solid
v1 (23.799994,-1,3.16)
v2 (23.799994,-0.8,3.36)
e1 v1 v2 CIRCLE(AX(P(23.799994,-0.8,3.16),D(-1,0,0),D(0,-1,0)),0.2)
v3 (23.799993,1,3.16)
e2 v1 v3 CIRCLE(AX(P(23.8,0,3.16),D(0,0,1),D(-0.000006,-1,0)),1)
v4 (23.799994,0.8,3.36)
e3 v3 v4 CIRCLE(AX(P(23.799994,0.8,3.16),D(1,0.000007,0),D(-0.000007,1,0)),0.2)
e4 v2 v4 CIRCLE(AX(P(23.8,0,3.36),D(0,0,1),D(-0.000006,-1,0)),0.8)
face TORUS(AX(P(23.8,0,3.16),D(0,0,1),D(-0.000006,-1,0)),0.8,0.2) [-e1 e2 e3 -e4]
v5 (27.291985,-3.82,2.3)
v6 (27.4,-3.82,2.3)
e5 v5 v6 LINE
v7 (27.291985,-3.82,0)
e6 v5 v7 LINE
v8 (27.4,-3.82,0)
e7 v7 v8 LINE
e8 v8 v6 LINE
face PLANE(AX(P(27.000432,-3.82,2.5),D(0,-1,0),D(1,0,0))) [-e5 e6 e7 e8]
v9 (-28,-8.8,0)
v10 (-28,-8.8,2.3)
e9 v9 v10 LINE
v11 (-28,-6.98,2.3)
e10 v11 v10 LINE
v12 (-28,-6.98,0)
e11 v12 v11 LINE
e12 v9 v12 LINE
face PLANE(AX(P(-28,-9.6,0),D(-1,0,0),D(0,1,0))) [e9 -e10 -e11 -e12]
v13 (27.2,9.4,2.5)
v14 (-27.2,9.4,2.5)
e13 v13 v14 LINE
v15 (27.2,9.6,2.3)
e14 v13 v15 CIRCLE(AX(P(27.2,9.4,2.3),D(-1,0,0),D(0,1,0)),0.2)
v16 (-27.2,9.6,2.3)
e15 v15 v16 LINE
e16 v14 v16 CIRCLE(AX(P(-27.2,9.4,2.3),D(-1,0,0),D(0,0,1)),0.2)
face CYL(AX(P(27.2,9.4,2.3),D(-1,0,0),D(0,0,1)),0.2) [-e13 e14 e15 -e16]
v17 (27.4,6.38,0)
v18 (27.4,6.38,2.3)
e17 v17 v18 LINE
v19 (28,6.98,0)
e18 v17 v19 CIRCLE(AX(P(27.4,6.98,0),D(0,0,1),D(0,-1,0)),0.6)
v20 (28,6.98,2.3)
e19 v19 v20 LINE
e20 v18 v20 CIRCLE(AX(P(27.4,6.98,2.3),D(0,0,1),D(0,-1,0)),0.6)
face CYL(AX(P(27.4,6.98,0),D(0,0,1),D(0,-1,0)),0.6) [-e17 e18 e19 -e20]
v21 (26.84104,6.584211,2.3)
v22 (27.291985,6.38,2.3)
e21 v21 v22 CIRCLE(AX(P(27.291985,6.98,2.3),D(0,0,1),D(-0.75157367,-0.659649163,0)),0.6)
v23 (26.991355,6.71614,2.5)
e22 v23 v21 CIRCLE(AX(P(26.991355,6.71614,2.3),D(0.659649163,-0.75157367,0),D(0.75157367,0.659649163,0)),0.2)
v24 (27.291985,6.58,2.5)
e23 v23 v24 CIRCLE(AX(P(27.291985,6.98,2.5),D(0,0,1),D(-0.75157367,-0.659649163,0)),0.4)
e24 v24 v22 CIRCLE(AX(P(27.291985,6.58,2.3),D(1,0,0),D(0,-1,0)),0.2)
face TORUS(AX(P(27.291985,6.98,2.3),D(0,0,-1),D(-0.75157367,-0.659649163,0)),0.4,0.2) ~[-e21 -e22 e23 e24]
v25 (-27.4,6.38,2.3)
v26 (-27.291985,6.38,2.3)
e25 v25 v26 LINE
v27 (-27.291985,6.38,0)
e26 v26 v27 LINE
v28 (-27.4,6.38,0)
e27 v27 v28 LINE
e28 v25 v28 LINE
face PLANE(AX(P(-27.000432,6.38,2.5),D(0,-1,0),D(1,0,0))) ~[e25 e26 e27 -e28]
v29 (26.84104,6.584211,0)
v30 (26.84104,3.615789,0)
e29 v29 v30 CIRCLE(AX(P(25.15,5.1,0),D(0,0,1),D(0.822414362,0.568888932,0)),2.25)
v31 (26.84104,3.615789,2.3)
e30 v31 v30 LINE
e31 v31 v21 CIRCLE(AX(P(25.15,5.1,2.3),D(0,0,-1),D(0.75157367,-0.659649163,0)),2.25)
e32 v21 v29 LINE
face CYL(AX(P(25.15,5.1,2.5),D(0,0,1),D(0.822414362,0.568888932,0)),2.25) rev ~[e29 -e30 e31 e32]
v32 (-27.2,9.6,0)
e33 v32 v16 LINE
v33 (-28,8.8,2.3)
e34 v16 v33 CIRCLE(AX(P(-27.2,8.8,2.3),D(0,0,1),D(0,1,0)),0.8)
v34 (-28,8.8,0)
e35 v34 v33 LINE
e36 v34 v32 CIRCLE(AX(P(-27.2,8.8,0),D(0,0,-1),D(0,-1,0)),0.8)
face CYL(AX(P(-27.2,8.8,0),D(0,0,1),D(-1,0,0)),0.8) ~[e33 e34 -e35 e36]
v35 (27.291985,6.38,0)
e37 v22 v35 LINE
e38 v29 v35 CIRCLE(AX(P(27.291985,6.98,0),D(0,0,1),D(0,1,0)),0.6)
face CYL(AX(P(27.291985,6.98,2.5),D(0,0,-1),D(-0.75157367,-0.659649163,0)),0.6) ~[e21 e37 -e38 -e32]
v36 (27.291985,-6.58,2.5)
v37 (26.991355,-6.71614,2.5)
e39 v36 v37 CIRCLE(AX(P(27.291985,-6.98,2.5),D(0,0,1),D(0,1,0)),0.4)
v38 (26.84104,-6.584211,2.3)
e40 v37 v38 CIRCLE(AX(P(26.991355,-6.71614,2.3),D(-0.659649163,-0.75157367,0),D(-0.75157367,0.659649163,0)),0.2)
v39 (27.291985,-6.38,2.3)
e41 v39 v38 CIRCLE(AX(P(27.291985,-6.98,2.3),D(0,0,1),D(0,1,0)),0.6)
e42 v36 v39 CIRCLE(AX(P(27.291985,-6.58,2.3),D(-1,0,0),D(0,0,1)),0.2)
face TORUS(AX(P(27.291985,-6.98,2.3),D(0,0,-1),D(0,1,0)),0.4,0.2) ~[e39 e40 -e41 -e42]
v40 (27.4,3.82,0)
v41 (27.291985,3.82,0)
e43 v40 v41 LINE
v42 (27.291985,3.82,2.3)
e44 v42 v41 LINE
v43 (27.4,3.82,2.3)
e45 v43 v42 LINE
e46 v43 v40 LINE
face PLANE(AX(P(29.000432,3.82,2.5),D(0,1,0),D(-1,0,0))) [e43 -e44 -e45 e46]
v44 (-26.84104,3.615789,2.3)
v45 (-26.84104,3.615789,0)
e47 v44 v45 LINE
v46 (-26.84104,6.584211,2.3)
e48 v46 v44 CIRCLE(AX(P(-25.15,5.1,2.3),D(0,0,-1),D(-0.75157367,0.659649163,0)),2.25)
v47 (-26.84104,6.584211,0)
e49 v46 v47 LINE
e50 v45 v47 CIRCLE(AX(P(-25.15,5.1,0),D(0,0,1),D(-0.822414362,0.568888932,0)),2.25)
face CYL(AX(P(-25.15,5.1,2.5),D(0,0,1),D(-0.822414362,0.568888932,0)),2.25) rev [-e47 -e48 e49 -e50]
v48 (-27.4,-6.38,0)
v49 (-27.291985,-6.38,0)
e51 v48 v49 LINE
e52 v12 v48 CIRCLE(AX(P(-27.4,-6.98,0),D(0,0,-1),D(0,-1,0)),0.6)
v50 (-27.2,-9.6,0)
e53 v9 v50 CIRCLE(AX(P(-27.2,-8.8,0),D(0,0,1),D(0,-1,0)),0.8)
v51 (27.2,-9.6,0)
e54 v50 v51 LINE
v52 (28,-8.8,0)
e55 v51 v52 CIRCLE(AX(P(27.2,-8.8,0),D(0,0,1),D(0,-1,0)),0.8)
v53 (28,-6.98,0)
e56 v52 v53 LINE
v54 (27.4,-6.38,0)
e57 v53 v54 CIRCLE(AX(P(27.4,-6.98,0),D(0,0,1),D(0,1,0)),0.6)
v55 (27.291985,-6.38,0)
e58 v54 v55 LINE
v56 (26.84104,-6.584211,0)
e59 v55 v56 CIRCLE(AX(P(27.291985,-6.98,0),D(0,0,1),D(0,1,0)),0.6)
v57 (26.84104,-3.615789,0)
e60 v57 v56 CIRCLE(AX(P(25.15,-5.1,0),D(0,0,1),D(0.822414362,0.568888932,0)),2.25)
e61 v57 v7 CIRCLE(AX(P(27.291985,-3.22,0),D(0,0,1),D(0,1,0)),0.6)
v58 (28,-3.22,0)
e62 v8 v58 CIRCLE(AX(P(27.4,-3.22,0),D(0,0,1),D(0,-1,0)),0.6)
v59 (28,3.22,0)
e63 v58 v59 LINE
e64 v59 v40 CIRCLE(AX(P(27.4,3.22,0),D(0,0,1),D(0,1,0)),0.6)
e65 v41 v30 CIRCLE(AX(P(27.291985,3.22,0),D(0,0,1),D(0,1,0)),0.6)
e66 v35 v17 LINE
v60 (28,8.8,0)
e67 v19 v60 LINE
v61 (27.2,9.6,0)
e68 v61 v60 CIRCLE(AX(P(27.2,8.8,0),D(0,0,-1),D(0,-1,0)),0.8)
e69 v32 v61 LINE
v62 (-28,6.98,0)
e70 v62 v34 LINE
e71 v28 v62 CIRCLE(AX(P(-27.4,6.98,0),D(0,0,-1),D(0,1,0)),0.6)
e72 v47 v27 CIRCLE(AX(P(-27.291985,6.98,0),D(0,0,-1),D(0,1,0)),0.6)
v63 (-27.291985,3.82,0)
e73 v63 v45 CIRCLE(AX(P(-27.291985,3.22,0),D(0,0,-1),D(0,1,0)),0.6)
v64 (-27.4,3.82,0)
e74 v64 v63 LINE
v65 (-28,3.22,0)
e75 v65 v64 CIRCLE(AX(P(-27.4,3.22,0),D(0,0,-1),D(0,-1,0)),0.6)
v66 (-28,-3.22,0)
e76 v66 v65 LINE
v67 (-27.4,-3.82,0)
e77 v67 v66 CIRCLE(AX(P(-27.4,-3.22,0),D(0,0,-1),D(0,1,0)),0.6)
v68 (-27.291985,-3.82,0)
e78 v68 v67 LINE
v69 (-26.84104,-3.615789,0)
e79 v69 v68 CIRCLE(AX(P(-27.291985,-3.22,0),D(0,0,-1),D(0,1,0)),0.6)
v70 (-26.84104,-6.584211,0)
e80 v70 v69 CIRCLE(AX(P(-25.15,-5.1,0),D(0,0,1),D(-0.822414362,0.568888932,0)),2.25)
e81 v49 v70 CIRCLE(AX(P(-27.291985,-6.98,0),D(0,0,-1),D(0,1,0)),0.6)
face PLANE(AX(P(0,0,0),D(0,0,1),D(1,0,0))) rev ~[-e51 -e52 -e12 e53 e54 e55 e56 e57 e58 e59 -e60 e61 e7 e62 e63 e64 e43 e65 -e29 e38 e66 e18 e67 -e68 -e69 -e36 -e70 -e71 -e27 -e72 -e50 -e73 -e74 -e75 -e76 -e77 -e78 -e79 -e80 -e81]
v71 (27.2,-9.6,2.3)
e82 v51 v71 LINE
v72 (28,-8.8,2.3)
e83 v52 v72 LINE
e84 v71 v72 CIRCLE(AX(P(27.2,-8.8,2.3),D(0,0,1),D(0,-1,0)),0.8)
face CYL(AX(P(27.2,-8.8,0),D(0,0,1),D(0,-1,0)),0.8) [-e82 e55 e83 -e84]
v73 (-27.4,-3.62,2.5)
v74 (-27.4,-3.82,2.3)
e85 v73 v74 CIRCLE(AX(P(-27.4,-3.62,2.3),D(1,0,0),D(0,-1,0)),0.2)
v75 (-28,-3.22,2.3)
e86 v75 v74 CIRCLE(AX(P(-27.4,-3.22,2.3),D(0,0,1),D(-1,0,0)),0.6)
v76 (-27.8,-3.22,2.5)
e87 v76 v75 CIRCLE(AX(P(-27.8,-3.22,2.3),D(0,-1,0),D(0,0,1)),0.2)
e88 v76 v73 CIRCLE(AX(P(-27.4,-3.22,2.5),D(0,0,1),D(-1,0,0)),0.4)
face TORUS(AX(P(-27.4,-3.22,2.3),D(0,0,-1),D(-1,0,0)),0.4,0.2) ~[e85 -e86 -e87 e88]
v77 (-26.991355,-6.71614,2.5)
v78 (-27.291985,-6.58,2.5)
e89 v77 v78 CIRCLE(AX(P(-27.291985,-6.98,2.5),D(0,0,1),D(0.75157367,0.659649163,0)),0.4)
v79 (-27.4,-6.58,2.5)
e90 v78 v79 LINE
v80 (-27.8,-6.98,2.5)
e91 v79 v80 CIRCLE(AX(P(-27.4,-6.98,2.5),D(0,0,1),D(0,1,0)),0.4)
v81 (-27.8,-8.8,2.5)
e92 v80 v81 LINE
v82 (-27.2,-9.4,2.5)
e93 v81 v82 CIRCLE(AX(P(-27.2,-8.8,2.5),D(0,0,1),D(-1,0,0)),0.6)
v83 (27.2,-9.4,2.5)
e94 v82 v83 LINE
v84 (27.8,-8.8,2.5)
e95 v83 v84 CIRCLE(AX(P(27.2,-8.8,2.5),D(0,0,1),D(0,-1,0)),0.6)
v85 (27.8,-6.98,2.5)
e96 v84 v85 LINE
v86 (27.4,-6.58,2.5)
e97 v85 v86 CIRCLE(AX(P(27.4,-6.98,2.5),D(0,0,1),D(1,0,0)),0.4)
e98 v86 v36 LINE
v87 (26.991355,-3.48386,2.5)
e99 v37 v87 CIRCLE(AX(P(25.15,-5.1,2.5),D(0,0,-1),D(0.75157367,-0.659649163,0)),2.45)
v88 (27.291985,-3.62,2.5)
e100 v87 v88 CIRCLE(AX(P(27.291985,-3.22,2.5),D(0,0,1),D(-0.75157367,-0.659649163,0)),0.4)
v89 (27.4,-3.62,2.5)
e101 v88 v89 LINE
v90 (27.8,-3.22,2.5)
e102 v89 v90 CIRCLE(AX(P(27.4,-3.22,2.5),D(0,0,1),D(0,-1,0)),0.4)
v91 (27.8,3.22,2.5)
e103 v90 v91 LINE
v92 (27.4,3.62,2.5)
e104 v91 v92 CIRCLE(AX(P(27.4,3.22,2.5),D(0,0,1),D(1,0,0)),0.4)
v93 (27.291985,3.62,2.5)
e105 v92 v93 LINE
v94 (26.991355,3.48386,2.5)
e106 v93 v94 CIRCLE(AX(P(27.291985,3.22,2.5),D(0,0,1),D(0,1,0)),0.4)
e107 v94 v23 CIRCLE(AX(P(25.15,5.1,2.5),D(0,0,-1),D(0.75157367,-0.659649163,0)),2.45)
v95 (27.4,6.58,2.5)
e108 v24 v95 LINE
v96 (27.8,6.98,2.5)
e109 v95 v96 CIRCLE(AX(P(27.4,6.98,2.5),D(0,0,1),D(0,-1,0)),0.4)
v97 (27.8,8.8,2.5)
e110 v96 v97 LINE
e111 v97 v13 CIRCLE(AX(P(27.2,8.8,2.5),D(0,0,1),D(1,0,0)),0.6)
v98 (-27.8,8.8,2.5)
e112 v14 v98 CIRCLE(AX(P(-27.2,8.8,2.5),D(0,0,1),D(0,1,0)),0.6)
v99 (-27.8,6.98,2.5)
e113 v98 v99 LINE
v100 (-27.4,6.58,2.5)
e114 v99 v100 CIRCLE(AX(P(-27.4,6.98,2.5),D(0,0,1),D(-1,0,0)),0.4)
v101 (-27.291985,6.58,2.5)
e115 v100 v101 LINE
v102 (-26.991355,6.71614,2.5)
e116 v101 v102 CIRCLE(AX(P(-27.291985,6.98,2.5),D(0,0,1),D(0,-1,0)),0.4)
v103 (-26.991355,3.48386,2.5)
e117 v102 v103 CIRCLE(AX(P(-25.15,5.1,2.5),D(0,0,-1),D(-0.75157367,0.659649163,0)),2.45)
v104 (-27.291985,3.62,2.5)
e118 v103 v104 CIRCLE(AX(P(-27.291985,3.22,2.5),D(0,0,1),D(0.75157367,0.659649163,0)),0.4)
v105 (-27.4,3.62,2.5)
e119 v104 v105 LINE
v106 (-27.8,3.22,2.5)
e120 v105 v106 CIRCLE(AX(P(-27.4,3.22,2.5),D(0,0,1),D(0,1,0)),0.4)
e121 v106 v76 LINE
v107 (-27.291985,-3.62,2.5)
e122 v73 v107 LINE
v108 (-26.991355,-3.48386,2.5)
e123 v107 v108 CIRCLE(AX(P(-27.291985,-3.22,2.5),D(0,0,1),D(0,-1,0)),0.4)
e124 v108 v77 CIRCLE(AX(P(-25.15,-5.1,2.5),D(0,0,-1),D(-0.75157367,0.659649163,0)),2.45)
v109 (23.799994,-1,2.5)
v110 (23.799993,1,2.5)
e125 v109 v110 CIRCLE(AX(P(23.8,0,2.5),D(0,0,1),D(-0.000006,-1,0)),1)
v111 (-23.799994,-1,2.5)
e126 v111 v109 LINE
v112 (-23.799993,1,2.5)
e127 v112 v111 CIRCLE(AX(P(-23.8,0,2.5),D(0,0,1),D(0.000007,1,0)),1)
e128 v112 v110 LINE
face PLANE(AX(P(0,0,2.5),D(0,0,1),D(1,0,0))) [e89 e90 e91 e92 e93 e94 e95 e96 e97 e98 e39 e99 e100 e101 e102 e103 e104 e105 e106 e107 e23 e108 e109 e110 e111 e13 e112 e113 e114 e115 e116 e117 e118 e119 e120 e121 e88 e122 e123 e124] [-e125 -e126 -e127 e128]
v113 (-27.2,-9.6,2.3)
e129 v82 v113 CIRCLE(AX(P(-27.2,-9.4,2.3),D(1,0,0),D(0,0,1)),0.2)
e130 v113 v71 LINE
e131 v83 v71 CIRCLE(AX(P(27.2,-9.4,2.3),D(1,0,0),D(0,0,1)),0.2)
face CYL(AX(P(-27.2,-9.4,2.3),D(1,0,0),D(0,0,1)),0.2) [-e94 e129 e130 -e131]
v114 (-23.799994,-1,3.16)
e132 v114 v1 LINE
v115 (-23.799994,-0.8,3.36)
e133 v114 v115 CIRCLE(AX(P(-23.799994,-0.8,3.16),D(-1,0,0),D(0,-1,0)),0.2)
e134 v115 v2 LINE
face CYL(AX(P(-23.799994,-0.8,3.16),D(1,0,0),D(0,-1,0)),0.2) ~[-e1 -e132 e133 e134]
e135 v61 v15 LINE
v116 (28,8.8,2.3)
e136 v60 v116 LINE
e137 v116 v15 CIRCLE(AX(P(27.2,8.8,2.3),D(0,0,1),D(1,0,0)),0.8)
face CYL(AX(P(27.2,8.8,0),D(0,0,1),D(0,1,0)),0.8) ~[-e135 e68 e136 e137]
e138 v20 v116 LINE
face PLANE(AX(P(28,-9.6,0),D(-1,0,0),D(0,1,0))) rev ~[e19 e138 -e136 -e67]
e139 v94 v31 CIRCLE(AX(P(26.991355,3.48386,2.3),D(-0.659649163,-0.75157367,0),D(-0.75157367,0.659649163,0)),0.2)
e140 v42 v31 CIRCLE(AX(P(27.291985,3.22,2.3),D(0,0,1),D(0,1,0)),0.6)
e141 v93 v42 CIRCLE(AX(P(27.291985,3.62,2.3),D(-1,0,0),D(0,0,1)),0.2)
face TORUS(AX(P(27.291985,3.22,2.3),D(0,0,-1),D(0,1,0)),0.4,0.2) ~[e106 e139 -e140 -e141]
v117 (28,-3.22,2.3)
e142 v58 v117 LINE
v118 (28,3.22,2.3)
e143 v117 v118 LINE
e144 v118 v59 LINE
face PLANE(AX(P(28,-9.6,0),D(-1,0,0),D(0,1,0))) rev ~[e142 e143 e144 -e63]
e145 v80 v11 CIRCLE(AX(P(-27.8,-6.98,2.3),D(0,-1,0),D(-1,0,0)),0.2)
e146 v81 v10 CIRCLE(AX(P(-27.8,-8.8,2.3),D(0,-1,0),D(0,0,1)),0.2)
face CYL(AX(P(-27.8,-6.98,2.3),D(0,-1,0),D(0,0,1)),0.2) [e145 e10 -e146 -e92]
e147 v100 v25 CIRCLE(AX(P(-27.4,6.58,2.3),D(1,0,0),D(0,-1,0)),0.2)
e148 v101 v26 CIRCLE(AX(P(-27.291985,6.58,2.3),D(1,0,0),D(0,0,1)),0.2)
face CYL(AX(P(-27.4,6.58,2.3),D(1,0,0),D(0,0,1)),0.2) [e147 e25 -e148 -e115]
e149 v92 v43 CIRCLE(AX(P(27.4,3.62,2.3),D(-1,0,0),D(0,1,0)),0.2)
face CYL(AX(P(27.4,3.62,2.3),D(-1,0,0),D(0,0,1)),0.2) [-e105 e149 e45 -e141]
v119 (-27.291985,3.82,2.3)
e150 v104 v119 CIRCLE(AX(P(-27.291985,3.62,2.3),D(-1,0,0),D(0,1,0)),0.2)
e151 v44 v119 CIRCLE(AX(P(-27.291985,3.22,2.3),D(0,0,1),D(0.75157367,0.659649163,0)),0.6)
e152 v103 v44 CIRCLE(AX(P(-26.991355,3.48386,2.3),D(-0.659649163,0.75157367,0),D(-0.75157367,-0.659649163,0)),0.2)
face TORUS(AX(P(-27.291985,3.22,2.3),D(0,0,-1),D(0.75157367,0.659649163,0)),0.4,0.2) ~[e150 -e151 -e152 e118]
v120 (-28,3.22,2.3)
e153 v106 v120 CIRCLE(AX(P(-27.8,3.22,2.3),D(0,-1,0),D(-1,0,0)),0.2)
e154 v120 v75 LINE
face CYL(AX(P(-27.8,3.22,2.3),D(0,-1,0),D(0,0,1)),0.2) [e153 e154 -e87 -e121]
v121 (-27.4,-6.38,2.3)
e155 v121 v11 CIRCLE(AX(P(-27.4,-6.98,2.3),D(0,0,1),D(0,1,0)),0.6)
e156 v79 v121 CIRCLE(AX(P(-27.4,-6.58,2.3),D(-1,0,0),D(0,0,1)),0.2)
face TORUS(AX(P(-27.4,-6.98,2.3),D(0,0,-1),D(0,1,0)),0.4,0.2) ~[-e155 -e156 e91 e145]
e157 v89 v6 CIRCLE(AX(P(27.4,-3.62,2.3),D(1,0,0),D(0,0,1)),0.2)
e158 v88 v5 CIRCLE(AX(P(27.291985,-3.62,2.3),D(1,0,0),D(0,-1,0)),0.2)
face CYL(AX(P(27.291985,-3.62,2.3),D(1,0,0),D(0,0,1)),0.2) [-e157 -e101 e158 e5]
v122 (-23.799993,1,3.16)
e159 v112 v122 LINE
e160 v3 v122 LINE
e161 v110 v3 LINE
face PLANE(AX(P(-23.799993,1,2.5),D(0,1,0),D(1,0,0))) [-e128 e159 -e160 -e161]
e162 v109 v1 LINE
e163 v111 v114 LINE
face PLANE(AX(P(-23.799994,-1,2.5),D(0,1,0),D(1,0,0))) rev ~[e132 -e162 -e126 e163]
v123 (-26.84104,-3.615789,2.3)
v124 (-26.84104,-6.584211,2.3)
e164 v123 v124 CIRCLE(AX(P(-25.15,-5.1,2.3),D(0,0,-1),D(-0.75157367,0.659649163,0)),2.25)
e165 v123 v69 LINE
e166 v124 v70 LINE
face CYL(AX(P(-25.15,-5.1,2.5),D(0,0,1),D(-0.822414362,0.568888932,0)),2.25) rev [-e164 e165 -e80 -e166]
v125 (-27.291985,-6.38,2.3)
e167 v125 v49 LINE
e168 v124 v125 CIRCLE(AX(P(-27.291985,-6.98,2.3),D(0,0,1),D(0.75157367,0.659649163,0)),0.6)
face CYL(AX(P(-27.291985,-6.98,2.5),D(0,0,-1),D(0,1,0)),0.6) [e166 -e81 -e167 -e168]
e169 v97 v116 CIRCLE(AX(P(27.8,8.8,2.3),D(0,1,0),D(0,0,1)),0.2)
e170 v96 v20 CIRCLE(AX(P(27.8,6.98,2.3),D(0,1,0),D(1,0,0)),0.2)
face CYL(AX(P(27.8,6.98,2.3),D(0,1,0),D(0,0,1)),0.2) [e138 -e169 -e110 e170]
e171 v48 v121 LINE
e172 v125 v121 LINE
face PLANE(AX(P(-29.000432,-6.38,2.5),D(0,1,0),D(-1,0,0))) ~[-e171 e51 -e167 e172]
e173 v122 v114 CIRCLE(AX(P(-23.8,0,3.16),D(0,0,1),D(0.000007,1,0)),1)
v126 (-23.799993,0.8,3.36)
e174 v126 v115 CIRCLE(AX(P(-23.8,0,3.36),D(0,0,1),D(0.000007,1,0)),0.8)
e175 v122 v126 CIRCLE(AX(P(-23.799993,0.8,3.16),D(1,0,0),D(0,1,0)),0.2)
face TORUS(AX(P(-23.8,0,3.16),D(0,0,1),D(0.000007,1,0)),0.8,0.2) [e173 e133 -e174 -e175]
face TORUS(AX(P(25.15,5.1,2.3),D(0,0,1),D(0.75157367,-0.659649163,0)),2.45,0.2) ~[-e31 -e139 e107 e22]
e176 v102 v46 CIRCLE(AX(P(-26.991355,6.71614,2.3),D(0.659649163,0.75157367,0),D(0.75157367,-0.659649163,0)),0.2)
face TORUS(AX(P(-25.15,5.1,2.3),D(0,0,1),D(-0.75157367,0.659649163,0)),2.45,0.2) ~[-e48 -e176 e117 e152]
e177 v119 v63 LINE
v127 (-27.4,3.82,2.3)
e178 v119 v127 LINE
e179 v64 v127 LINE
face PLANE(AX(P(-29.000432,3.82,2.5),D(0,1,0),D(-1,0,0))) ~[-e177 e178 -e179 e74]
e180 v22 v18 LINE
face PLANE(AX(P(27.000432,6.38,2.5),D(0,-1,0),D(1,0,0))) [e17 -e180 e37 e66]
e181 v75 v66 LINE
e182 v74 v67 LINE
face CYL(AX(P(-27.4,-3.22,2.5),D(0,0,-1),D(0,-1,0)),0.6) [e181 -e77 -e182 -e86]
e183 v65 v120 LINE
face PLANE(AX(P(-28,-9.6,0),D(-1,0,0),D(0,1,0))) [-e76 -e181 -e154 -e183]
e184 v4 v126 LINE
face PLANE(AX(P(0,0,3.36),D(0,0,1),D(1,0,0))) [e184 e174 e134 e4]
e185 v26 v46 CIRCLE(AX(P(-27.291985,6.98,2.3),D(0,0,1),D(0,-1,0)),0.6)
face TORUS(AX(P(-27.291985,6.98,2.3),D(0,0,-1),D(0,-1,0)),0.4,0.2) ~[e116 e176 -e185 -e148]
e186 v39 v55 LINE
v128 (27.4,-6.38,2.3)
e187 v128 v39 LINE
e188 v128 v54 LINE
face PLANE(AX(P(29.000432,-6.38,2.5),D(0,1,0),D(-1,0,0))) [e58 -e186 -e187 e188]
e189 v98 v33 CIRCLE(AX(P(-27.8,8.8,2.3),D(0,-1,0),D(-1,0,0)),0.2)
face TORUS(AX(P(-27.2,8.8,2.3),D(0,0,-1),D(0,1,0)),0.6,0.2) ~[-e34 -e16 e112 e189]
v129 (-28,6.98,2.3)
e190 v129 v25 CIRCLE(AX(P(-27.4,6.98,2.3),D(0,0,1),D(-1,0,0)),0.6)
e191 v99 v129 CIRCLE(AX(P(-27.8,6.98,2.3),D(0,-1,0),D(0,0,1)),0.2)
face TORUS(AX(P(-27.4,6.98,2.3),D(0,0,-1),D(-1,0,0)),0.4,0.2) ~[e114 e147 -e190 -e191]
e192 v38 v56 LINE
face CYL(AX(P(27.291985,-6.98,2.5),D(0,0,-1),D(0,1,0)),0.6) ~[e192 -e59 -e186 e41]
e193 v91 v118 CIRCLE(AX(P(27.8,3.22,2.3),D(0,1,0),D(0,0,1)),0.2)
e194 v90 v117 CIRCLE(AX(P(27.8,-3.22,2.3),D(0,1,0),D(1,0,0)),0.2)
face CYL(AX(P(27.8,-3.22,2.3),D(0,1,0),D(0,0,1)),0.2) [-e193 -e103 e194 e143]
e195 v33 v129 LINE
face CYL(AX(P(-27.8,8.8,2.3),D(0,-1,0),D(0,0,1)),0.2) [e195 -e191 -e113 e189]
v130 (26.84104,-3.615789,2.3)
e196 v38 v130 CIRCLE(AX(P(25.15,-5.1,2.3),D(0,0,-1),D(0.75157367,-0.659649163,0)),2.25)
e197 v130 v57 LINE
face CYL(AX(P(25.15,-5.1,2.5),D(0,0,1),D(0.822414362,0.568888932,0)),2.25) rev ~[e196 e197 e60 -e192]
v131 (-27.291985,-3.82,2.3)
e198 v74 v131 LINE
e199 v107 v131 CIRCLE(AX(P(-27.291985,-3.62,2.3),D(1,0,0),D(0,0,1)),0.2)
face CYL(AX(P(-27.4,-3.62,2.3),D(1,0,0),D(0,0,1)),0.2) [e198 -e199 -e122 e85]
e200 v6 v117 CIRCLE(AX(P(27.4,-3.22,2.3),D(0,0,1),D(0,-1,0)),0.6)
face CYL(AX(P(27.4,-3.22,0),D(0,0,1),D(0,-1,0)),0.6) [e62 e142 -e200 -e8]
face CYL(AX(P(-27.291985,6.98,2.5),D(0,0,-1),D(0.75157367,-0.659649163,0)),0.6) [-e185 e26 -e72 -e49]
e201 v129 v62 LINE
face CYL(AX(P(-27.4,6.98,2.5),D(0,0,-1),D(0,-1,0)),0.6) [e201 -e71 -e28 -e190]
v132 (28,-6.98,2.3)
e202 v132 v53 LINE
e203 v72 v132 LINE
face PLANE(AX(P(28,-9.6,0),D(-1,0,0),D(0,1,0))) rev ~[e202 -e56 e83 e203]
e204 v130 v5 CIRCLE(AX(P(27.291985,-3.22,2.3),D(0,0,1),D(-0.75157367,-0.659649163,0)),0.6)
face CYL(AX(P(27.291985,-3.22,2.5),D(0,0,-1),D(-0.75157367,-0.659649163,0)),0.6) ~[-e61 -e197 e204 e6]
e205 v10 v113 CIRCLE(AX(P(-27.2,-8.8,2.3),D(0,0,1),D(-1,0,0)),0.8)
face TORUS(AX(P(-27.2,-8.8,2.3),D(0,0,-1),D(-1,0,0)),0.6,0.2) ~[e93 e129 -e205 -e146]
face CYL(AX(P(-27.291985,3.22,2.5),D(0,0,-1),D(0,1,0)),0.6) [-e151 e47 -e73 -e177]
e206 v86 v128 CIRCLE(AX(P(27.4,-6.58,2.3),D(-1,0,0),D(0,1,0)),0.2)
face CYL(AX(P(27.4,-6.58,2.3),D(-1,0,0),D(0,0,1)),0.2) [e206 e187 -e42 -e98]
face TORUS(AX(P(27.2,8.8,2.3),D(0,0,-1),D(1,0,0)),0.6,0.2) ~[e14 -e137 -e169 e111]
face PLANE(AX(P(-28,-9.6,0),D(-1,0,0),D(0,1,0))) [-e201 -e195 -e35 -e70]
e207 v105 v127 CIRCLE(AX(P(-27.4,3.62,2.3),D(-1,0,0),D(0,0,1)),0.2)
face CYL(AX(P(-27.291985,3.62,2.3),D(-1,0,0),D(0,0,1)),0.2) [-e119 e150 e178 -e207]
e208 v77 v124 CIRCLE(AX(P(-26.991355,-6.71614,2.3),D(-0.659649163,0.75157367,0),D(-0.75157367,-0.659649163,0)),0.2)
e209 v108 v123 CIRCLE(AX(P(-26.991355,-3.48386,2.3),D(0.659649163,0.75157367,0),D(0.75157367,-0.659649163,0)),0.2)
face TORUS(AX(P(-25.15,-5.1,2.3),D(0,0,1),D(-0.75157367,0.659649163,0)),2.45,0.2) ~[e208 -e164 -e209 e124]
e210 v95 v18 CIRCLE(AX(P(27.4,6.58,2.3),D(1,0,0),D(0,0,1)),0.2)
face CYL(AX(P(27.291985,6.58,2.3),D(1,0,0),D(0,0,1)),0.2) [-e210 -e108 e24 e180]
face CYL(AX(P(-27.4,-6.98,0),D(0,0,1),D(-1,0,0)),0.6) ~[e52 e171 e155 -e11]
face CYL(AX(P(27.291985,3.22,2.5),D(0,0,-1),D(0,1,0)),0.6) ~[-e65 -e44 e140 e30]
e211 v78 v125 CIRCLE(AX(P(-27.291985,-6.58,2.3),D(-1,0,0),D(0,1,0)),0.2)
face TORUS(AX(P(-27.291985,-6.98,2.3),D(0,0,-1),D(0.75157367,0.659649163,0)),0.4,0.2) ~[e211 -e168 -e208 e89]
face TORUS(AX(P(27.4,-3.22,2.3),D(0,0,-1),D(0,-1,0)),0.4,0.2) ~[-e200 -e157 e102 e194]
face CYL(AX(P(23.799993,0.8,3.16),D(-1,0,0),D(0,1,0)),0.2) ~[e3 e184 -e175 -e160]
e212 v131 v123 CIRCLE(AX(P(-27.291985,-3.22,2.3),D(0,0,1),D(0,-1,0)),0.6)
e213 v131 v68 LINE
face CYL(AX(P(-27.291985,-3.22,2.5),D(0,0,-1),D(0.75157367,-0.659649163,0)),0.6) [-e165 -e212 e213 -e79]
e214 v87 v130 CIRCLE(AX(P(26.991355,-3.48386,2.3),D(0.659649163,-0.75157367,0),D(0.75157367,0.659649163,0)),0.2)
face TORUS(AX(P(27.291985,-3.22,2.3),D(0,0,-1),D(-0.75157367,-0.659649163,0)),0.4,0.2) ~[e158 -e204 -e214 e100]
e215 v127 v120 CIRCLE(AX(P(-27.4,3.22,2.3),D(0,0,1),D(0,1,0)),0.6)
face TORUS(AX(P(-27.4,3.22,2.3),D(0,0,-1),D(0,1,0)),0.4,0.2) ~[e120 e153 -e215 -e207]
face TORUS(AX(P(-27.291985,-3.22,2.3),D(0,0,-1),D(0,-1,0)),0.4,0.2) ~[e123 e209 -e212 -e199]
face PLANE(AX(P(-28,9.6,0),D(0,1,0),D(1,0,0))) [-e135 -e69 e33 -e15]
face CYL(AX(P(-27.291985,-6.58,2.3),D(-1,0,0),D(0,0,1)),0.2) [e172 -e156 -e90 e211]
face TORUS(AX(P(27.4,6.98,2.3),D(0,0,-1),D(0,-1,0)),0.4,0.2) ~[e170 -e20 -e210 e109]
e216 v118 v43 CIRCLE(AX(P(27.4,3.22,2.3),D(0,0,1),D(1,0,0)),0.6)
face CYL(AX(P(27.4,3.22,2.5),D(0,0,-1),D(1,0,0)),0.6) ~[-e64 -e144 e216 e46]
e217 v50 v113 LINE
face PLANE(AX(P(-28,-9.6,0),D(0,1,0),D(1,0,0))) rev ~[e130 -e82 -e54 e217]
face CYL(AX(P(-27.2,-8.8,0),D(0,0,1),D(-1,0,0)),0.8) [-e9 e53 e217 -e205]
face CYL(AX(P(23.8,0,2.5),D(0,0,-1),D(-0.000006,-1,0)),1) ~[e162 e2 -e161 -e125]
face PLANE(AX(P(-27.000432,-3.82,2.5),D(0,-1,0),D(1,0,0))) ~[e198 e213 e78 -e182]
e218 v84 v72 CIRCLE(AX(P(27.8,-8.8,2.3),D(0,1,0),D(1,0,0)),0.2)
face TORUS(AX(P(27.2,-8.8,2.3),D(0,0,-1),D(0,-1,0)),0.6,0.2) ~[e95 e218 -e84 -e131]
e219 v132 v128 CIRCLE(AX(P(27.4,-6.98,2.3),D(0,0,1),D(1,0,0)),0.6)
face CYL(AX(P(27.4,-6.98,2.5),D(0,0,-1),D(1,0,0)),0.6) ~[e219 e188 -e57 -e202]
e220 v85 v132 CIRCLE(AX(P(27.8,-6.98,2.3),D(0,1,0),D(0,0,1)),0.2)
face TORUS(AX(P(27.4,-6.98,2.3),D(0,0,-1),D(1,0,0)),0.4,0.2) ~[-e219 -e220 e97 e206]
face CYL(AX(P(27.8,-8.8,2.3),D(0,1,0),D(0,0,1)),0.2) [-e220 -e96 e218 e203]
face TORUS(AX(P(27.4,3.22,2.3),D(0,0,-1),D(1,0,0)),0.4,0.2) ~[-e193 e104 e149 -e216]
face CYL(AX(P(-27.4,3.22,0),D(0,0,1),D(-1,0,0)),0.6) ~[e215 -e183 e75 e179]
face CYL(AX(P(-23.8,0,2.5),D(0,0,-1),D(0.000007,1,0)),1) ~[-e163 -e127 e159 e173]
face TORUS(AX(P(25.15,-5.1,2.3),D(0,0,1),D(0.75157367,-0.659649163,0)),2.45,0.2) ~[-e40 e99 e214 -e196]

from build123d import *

# Parameters (mm, degrees)
SKETCH019_W                 = 56
SKETCH019_H                 = 19.2
PAD002001003004001002_DEPTH = 2.5
POCKET008_DEPTH             = 121.006527
PAD002001003004001003_DEPTH = 0.86
FILLET003002_R              = 0.8
FILLET003003_R              = 0.6
FILLET003004_R              = 0.2
FILLET003005_R              = 0.2


with BuildPart() as part:
    # Sketch019 → Pad002001003004001002 (new body)
    with BuildSketch(Plane.XY):
        Rectangle(SKETCH019_W, SKETCH019_H)
    extrude(amount=PAD002001003004001002_DEPTH)

    # Sketch020 (on Face6 of Pad002001003004001002) → Pocket008 (cut, through all)
    with BuildSketch(Plane.XY.offset(2.5)):
        with BuildLine():
            ThreePointArc((27.000432, 6.38), (22.9, 5.1), (27.000432, 3.82))
            Line((29.000432, 3.82), (27.000432, 3.82))
            Line((29.000432, 6.38), (29.000432, 3.82))
            Line((27.000432, 6.38), (29.000432, 6.38))
        make_face()
        with BuildLine():
            ThreePointArc((27.000432, -3.82), (22.9, -5.1), (27.000432, -6.38))
            Line((29.000432, -6.38), (27.000432, -6.38))
            Line((29.000432, -3.82), (29.000432, -6.38))
            Line((27.000432, -3.82), (29.000432, -3.82))
        make_face()
    pocket008 = extrude(amount=-POCKET008_DEPTH, mode=Mode.SUBTRACT)

    # Mirrored001: Pocket008 across Sketch020 V_Axis
    add(pocket008.mirror(Plane(origin=(0, 0, 2.5), x_dir=(0, 0, 1), z_dir=(1, 0, 0))), mode=Mode.SUBTRACT)

    # Sketch021 (on Face5 of Mirrored001) → Pad002001003004001003 (new body)
    with BuildSketch(Plane.XY.offset(2.5)):
        with BuildLine():
            ThreePointArc((-23.799993, 1), (-24.8, 0), (-23.799994, -1))
            Line((-23.799994, -1), (23.799994, -1))
            ThreePointArc((23.799994, -1), (24.8, 0), (23.799993, 1))
            Line((-23.799993, 1), (23.799993, 1))
        make_face()
    extrude(amount=PAD002001003004001003_DEPTH)

    # Fillet003002
    fillet003002_edges = [part.edges().sort_by_distance(p)[0] for p in [
        (-28, 9.6, 1.25),
        (28, 9.6, 1.25),
        (-28, -9.6, 1.25),
        (28, -9.6, 1.25),
    ]]
    fillet(fillet003002_edges, radius=FILLET003002_R)

    # Fillet003003
    fillet003003_edges = [part.edges().sort_by_distance(p)[0] for p in [
        (-28, 6.38, 1.25),
        (28, 6.38, 1.25),
        (-27.000432, 6.38, 1.25),
        (27.000432, 6.38, 1.25),
        (-27.000432, 3.82, 1.25),
        (27.000432, 3.82, 1.25),
        (-28, 3.82, 1.25),
        (28, 3.82, 1.25),
        (-28, -3.82, 1.25),
        (28, -3.82, 1.25),
        (-27.000432, -3.82, 1.25),
        (27.000432, -3.82, 1.25),
        (-27.000432, -6.38, 1.25),
        (27.000432, -6.38, 1.25),
        (-28, -6.38, 1.25),
        (28, -6.38, 1.25),
    ]]
    fillet(fillet003003_edges, radius=FILLET003003_R)

    # Fillet003004
    fillet003004_edges = [part.edges().sort_by_distance(p)[0] for p in [
        (0, -9.6, 2.5),
    ]]
    fillet(fillet003004_edges, radius=FILLET003004_R)

    # Fillet003005
    fillet003005_edges = [part.edges().sort_by_distance(p)[0] for p in [
        (0, -1, 3.36),
    ]]
    fillet(fillet003005_edges, radius=FILLET003005_R)


solid = part.part
